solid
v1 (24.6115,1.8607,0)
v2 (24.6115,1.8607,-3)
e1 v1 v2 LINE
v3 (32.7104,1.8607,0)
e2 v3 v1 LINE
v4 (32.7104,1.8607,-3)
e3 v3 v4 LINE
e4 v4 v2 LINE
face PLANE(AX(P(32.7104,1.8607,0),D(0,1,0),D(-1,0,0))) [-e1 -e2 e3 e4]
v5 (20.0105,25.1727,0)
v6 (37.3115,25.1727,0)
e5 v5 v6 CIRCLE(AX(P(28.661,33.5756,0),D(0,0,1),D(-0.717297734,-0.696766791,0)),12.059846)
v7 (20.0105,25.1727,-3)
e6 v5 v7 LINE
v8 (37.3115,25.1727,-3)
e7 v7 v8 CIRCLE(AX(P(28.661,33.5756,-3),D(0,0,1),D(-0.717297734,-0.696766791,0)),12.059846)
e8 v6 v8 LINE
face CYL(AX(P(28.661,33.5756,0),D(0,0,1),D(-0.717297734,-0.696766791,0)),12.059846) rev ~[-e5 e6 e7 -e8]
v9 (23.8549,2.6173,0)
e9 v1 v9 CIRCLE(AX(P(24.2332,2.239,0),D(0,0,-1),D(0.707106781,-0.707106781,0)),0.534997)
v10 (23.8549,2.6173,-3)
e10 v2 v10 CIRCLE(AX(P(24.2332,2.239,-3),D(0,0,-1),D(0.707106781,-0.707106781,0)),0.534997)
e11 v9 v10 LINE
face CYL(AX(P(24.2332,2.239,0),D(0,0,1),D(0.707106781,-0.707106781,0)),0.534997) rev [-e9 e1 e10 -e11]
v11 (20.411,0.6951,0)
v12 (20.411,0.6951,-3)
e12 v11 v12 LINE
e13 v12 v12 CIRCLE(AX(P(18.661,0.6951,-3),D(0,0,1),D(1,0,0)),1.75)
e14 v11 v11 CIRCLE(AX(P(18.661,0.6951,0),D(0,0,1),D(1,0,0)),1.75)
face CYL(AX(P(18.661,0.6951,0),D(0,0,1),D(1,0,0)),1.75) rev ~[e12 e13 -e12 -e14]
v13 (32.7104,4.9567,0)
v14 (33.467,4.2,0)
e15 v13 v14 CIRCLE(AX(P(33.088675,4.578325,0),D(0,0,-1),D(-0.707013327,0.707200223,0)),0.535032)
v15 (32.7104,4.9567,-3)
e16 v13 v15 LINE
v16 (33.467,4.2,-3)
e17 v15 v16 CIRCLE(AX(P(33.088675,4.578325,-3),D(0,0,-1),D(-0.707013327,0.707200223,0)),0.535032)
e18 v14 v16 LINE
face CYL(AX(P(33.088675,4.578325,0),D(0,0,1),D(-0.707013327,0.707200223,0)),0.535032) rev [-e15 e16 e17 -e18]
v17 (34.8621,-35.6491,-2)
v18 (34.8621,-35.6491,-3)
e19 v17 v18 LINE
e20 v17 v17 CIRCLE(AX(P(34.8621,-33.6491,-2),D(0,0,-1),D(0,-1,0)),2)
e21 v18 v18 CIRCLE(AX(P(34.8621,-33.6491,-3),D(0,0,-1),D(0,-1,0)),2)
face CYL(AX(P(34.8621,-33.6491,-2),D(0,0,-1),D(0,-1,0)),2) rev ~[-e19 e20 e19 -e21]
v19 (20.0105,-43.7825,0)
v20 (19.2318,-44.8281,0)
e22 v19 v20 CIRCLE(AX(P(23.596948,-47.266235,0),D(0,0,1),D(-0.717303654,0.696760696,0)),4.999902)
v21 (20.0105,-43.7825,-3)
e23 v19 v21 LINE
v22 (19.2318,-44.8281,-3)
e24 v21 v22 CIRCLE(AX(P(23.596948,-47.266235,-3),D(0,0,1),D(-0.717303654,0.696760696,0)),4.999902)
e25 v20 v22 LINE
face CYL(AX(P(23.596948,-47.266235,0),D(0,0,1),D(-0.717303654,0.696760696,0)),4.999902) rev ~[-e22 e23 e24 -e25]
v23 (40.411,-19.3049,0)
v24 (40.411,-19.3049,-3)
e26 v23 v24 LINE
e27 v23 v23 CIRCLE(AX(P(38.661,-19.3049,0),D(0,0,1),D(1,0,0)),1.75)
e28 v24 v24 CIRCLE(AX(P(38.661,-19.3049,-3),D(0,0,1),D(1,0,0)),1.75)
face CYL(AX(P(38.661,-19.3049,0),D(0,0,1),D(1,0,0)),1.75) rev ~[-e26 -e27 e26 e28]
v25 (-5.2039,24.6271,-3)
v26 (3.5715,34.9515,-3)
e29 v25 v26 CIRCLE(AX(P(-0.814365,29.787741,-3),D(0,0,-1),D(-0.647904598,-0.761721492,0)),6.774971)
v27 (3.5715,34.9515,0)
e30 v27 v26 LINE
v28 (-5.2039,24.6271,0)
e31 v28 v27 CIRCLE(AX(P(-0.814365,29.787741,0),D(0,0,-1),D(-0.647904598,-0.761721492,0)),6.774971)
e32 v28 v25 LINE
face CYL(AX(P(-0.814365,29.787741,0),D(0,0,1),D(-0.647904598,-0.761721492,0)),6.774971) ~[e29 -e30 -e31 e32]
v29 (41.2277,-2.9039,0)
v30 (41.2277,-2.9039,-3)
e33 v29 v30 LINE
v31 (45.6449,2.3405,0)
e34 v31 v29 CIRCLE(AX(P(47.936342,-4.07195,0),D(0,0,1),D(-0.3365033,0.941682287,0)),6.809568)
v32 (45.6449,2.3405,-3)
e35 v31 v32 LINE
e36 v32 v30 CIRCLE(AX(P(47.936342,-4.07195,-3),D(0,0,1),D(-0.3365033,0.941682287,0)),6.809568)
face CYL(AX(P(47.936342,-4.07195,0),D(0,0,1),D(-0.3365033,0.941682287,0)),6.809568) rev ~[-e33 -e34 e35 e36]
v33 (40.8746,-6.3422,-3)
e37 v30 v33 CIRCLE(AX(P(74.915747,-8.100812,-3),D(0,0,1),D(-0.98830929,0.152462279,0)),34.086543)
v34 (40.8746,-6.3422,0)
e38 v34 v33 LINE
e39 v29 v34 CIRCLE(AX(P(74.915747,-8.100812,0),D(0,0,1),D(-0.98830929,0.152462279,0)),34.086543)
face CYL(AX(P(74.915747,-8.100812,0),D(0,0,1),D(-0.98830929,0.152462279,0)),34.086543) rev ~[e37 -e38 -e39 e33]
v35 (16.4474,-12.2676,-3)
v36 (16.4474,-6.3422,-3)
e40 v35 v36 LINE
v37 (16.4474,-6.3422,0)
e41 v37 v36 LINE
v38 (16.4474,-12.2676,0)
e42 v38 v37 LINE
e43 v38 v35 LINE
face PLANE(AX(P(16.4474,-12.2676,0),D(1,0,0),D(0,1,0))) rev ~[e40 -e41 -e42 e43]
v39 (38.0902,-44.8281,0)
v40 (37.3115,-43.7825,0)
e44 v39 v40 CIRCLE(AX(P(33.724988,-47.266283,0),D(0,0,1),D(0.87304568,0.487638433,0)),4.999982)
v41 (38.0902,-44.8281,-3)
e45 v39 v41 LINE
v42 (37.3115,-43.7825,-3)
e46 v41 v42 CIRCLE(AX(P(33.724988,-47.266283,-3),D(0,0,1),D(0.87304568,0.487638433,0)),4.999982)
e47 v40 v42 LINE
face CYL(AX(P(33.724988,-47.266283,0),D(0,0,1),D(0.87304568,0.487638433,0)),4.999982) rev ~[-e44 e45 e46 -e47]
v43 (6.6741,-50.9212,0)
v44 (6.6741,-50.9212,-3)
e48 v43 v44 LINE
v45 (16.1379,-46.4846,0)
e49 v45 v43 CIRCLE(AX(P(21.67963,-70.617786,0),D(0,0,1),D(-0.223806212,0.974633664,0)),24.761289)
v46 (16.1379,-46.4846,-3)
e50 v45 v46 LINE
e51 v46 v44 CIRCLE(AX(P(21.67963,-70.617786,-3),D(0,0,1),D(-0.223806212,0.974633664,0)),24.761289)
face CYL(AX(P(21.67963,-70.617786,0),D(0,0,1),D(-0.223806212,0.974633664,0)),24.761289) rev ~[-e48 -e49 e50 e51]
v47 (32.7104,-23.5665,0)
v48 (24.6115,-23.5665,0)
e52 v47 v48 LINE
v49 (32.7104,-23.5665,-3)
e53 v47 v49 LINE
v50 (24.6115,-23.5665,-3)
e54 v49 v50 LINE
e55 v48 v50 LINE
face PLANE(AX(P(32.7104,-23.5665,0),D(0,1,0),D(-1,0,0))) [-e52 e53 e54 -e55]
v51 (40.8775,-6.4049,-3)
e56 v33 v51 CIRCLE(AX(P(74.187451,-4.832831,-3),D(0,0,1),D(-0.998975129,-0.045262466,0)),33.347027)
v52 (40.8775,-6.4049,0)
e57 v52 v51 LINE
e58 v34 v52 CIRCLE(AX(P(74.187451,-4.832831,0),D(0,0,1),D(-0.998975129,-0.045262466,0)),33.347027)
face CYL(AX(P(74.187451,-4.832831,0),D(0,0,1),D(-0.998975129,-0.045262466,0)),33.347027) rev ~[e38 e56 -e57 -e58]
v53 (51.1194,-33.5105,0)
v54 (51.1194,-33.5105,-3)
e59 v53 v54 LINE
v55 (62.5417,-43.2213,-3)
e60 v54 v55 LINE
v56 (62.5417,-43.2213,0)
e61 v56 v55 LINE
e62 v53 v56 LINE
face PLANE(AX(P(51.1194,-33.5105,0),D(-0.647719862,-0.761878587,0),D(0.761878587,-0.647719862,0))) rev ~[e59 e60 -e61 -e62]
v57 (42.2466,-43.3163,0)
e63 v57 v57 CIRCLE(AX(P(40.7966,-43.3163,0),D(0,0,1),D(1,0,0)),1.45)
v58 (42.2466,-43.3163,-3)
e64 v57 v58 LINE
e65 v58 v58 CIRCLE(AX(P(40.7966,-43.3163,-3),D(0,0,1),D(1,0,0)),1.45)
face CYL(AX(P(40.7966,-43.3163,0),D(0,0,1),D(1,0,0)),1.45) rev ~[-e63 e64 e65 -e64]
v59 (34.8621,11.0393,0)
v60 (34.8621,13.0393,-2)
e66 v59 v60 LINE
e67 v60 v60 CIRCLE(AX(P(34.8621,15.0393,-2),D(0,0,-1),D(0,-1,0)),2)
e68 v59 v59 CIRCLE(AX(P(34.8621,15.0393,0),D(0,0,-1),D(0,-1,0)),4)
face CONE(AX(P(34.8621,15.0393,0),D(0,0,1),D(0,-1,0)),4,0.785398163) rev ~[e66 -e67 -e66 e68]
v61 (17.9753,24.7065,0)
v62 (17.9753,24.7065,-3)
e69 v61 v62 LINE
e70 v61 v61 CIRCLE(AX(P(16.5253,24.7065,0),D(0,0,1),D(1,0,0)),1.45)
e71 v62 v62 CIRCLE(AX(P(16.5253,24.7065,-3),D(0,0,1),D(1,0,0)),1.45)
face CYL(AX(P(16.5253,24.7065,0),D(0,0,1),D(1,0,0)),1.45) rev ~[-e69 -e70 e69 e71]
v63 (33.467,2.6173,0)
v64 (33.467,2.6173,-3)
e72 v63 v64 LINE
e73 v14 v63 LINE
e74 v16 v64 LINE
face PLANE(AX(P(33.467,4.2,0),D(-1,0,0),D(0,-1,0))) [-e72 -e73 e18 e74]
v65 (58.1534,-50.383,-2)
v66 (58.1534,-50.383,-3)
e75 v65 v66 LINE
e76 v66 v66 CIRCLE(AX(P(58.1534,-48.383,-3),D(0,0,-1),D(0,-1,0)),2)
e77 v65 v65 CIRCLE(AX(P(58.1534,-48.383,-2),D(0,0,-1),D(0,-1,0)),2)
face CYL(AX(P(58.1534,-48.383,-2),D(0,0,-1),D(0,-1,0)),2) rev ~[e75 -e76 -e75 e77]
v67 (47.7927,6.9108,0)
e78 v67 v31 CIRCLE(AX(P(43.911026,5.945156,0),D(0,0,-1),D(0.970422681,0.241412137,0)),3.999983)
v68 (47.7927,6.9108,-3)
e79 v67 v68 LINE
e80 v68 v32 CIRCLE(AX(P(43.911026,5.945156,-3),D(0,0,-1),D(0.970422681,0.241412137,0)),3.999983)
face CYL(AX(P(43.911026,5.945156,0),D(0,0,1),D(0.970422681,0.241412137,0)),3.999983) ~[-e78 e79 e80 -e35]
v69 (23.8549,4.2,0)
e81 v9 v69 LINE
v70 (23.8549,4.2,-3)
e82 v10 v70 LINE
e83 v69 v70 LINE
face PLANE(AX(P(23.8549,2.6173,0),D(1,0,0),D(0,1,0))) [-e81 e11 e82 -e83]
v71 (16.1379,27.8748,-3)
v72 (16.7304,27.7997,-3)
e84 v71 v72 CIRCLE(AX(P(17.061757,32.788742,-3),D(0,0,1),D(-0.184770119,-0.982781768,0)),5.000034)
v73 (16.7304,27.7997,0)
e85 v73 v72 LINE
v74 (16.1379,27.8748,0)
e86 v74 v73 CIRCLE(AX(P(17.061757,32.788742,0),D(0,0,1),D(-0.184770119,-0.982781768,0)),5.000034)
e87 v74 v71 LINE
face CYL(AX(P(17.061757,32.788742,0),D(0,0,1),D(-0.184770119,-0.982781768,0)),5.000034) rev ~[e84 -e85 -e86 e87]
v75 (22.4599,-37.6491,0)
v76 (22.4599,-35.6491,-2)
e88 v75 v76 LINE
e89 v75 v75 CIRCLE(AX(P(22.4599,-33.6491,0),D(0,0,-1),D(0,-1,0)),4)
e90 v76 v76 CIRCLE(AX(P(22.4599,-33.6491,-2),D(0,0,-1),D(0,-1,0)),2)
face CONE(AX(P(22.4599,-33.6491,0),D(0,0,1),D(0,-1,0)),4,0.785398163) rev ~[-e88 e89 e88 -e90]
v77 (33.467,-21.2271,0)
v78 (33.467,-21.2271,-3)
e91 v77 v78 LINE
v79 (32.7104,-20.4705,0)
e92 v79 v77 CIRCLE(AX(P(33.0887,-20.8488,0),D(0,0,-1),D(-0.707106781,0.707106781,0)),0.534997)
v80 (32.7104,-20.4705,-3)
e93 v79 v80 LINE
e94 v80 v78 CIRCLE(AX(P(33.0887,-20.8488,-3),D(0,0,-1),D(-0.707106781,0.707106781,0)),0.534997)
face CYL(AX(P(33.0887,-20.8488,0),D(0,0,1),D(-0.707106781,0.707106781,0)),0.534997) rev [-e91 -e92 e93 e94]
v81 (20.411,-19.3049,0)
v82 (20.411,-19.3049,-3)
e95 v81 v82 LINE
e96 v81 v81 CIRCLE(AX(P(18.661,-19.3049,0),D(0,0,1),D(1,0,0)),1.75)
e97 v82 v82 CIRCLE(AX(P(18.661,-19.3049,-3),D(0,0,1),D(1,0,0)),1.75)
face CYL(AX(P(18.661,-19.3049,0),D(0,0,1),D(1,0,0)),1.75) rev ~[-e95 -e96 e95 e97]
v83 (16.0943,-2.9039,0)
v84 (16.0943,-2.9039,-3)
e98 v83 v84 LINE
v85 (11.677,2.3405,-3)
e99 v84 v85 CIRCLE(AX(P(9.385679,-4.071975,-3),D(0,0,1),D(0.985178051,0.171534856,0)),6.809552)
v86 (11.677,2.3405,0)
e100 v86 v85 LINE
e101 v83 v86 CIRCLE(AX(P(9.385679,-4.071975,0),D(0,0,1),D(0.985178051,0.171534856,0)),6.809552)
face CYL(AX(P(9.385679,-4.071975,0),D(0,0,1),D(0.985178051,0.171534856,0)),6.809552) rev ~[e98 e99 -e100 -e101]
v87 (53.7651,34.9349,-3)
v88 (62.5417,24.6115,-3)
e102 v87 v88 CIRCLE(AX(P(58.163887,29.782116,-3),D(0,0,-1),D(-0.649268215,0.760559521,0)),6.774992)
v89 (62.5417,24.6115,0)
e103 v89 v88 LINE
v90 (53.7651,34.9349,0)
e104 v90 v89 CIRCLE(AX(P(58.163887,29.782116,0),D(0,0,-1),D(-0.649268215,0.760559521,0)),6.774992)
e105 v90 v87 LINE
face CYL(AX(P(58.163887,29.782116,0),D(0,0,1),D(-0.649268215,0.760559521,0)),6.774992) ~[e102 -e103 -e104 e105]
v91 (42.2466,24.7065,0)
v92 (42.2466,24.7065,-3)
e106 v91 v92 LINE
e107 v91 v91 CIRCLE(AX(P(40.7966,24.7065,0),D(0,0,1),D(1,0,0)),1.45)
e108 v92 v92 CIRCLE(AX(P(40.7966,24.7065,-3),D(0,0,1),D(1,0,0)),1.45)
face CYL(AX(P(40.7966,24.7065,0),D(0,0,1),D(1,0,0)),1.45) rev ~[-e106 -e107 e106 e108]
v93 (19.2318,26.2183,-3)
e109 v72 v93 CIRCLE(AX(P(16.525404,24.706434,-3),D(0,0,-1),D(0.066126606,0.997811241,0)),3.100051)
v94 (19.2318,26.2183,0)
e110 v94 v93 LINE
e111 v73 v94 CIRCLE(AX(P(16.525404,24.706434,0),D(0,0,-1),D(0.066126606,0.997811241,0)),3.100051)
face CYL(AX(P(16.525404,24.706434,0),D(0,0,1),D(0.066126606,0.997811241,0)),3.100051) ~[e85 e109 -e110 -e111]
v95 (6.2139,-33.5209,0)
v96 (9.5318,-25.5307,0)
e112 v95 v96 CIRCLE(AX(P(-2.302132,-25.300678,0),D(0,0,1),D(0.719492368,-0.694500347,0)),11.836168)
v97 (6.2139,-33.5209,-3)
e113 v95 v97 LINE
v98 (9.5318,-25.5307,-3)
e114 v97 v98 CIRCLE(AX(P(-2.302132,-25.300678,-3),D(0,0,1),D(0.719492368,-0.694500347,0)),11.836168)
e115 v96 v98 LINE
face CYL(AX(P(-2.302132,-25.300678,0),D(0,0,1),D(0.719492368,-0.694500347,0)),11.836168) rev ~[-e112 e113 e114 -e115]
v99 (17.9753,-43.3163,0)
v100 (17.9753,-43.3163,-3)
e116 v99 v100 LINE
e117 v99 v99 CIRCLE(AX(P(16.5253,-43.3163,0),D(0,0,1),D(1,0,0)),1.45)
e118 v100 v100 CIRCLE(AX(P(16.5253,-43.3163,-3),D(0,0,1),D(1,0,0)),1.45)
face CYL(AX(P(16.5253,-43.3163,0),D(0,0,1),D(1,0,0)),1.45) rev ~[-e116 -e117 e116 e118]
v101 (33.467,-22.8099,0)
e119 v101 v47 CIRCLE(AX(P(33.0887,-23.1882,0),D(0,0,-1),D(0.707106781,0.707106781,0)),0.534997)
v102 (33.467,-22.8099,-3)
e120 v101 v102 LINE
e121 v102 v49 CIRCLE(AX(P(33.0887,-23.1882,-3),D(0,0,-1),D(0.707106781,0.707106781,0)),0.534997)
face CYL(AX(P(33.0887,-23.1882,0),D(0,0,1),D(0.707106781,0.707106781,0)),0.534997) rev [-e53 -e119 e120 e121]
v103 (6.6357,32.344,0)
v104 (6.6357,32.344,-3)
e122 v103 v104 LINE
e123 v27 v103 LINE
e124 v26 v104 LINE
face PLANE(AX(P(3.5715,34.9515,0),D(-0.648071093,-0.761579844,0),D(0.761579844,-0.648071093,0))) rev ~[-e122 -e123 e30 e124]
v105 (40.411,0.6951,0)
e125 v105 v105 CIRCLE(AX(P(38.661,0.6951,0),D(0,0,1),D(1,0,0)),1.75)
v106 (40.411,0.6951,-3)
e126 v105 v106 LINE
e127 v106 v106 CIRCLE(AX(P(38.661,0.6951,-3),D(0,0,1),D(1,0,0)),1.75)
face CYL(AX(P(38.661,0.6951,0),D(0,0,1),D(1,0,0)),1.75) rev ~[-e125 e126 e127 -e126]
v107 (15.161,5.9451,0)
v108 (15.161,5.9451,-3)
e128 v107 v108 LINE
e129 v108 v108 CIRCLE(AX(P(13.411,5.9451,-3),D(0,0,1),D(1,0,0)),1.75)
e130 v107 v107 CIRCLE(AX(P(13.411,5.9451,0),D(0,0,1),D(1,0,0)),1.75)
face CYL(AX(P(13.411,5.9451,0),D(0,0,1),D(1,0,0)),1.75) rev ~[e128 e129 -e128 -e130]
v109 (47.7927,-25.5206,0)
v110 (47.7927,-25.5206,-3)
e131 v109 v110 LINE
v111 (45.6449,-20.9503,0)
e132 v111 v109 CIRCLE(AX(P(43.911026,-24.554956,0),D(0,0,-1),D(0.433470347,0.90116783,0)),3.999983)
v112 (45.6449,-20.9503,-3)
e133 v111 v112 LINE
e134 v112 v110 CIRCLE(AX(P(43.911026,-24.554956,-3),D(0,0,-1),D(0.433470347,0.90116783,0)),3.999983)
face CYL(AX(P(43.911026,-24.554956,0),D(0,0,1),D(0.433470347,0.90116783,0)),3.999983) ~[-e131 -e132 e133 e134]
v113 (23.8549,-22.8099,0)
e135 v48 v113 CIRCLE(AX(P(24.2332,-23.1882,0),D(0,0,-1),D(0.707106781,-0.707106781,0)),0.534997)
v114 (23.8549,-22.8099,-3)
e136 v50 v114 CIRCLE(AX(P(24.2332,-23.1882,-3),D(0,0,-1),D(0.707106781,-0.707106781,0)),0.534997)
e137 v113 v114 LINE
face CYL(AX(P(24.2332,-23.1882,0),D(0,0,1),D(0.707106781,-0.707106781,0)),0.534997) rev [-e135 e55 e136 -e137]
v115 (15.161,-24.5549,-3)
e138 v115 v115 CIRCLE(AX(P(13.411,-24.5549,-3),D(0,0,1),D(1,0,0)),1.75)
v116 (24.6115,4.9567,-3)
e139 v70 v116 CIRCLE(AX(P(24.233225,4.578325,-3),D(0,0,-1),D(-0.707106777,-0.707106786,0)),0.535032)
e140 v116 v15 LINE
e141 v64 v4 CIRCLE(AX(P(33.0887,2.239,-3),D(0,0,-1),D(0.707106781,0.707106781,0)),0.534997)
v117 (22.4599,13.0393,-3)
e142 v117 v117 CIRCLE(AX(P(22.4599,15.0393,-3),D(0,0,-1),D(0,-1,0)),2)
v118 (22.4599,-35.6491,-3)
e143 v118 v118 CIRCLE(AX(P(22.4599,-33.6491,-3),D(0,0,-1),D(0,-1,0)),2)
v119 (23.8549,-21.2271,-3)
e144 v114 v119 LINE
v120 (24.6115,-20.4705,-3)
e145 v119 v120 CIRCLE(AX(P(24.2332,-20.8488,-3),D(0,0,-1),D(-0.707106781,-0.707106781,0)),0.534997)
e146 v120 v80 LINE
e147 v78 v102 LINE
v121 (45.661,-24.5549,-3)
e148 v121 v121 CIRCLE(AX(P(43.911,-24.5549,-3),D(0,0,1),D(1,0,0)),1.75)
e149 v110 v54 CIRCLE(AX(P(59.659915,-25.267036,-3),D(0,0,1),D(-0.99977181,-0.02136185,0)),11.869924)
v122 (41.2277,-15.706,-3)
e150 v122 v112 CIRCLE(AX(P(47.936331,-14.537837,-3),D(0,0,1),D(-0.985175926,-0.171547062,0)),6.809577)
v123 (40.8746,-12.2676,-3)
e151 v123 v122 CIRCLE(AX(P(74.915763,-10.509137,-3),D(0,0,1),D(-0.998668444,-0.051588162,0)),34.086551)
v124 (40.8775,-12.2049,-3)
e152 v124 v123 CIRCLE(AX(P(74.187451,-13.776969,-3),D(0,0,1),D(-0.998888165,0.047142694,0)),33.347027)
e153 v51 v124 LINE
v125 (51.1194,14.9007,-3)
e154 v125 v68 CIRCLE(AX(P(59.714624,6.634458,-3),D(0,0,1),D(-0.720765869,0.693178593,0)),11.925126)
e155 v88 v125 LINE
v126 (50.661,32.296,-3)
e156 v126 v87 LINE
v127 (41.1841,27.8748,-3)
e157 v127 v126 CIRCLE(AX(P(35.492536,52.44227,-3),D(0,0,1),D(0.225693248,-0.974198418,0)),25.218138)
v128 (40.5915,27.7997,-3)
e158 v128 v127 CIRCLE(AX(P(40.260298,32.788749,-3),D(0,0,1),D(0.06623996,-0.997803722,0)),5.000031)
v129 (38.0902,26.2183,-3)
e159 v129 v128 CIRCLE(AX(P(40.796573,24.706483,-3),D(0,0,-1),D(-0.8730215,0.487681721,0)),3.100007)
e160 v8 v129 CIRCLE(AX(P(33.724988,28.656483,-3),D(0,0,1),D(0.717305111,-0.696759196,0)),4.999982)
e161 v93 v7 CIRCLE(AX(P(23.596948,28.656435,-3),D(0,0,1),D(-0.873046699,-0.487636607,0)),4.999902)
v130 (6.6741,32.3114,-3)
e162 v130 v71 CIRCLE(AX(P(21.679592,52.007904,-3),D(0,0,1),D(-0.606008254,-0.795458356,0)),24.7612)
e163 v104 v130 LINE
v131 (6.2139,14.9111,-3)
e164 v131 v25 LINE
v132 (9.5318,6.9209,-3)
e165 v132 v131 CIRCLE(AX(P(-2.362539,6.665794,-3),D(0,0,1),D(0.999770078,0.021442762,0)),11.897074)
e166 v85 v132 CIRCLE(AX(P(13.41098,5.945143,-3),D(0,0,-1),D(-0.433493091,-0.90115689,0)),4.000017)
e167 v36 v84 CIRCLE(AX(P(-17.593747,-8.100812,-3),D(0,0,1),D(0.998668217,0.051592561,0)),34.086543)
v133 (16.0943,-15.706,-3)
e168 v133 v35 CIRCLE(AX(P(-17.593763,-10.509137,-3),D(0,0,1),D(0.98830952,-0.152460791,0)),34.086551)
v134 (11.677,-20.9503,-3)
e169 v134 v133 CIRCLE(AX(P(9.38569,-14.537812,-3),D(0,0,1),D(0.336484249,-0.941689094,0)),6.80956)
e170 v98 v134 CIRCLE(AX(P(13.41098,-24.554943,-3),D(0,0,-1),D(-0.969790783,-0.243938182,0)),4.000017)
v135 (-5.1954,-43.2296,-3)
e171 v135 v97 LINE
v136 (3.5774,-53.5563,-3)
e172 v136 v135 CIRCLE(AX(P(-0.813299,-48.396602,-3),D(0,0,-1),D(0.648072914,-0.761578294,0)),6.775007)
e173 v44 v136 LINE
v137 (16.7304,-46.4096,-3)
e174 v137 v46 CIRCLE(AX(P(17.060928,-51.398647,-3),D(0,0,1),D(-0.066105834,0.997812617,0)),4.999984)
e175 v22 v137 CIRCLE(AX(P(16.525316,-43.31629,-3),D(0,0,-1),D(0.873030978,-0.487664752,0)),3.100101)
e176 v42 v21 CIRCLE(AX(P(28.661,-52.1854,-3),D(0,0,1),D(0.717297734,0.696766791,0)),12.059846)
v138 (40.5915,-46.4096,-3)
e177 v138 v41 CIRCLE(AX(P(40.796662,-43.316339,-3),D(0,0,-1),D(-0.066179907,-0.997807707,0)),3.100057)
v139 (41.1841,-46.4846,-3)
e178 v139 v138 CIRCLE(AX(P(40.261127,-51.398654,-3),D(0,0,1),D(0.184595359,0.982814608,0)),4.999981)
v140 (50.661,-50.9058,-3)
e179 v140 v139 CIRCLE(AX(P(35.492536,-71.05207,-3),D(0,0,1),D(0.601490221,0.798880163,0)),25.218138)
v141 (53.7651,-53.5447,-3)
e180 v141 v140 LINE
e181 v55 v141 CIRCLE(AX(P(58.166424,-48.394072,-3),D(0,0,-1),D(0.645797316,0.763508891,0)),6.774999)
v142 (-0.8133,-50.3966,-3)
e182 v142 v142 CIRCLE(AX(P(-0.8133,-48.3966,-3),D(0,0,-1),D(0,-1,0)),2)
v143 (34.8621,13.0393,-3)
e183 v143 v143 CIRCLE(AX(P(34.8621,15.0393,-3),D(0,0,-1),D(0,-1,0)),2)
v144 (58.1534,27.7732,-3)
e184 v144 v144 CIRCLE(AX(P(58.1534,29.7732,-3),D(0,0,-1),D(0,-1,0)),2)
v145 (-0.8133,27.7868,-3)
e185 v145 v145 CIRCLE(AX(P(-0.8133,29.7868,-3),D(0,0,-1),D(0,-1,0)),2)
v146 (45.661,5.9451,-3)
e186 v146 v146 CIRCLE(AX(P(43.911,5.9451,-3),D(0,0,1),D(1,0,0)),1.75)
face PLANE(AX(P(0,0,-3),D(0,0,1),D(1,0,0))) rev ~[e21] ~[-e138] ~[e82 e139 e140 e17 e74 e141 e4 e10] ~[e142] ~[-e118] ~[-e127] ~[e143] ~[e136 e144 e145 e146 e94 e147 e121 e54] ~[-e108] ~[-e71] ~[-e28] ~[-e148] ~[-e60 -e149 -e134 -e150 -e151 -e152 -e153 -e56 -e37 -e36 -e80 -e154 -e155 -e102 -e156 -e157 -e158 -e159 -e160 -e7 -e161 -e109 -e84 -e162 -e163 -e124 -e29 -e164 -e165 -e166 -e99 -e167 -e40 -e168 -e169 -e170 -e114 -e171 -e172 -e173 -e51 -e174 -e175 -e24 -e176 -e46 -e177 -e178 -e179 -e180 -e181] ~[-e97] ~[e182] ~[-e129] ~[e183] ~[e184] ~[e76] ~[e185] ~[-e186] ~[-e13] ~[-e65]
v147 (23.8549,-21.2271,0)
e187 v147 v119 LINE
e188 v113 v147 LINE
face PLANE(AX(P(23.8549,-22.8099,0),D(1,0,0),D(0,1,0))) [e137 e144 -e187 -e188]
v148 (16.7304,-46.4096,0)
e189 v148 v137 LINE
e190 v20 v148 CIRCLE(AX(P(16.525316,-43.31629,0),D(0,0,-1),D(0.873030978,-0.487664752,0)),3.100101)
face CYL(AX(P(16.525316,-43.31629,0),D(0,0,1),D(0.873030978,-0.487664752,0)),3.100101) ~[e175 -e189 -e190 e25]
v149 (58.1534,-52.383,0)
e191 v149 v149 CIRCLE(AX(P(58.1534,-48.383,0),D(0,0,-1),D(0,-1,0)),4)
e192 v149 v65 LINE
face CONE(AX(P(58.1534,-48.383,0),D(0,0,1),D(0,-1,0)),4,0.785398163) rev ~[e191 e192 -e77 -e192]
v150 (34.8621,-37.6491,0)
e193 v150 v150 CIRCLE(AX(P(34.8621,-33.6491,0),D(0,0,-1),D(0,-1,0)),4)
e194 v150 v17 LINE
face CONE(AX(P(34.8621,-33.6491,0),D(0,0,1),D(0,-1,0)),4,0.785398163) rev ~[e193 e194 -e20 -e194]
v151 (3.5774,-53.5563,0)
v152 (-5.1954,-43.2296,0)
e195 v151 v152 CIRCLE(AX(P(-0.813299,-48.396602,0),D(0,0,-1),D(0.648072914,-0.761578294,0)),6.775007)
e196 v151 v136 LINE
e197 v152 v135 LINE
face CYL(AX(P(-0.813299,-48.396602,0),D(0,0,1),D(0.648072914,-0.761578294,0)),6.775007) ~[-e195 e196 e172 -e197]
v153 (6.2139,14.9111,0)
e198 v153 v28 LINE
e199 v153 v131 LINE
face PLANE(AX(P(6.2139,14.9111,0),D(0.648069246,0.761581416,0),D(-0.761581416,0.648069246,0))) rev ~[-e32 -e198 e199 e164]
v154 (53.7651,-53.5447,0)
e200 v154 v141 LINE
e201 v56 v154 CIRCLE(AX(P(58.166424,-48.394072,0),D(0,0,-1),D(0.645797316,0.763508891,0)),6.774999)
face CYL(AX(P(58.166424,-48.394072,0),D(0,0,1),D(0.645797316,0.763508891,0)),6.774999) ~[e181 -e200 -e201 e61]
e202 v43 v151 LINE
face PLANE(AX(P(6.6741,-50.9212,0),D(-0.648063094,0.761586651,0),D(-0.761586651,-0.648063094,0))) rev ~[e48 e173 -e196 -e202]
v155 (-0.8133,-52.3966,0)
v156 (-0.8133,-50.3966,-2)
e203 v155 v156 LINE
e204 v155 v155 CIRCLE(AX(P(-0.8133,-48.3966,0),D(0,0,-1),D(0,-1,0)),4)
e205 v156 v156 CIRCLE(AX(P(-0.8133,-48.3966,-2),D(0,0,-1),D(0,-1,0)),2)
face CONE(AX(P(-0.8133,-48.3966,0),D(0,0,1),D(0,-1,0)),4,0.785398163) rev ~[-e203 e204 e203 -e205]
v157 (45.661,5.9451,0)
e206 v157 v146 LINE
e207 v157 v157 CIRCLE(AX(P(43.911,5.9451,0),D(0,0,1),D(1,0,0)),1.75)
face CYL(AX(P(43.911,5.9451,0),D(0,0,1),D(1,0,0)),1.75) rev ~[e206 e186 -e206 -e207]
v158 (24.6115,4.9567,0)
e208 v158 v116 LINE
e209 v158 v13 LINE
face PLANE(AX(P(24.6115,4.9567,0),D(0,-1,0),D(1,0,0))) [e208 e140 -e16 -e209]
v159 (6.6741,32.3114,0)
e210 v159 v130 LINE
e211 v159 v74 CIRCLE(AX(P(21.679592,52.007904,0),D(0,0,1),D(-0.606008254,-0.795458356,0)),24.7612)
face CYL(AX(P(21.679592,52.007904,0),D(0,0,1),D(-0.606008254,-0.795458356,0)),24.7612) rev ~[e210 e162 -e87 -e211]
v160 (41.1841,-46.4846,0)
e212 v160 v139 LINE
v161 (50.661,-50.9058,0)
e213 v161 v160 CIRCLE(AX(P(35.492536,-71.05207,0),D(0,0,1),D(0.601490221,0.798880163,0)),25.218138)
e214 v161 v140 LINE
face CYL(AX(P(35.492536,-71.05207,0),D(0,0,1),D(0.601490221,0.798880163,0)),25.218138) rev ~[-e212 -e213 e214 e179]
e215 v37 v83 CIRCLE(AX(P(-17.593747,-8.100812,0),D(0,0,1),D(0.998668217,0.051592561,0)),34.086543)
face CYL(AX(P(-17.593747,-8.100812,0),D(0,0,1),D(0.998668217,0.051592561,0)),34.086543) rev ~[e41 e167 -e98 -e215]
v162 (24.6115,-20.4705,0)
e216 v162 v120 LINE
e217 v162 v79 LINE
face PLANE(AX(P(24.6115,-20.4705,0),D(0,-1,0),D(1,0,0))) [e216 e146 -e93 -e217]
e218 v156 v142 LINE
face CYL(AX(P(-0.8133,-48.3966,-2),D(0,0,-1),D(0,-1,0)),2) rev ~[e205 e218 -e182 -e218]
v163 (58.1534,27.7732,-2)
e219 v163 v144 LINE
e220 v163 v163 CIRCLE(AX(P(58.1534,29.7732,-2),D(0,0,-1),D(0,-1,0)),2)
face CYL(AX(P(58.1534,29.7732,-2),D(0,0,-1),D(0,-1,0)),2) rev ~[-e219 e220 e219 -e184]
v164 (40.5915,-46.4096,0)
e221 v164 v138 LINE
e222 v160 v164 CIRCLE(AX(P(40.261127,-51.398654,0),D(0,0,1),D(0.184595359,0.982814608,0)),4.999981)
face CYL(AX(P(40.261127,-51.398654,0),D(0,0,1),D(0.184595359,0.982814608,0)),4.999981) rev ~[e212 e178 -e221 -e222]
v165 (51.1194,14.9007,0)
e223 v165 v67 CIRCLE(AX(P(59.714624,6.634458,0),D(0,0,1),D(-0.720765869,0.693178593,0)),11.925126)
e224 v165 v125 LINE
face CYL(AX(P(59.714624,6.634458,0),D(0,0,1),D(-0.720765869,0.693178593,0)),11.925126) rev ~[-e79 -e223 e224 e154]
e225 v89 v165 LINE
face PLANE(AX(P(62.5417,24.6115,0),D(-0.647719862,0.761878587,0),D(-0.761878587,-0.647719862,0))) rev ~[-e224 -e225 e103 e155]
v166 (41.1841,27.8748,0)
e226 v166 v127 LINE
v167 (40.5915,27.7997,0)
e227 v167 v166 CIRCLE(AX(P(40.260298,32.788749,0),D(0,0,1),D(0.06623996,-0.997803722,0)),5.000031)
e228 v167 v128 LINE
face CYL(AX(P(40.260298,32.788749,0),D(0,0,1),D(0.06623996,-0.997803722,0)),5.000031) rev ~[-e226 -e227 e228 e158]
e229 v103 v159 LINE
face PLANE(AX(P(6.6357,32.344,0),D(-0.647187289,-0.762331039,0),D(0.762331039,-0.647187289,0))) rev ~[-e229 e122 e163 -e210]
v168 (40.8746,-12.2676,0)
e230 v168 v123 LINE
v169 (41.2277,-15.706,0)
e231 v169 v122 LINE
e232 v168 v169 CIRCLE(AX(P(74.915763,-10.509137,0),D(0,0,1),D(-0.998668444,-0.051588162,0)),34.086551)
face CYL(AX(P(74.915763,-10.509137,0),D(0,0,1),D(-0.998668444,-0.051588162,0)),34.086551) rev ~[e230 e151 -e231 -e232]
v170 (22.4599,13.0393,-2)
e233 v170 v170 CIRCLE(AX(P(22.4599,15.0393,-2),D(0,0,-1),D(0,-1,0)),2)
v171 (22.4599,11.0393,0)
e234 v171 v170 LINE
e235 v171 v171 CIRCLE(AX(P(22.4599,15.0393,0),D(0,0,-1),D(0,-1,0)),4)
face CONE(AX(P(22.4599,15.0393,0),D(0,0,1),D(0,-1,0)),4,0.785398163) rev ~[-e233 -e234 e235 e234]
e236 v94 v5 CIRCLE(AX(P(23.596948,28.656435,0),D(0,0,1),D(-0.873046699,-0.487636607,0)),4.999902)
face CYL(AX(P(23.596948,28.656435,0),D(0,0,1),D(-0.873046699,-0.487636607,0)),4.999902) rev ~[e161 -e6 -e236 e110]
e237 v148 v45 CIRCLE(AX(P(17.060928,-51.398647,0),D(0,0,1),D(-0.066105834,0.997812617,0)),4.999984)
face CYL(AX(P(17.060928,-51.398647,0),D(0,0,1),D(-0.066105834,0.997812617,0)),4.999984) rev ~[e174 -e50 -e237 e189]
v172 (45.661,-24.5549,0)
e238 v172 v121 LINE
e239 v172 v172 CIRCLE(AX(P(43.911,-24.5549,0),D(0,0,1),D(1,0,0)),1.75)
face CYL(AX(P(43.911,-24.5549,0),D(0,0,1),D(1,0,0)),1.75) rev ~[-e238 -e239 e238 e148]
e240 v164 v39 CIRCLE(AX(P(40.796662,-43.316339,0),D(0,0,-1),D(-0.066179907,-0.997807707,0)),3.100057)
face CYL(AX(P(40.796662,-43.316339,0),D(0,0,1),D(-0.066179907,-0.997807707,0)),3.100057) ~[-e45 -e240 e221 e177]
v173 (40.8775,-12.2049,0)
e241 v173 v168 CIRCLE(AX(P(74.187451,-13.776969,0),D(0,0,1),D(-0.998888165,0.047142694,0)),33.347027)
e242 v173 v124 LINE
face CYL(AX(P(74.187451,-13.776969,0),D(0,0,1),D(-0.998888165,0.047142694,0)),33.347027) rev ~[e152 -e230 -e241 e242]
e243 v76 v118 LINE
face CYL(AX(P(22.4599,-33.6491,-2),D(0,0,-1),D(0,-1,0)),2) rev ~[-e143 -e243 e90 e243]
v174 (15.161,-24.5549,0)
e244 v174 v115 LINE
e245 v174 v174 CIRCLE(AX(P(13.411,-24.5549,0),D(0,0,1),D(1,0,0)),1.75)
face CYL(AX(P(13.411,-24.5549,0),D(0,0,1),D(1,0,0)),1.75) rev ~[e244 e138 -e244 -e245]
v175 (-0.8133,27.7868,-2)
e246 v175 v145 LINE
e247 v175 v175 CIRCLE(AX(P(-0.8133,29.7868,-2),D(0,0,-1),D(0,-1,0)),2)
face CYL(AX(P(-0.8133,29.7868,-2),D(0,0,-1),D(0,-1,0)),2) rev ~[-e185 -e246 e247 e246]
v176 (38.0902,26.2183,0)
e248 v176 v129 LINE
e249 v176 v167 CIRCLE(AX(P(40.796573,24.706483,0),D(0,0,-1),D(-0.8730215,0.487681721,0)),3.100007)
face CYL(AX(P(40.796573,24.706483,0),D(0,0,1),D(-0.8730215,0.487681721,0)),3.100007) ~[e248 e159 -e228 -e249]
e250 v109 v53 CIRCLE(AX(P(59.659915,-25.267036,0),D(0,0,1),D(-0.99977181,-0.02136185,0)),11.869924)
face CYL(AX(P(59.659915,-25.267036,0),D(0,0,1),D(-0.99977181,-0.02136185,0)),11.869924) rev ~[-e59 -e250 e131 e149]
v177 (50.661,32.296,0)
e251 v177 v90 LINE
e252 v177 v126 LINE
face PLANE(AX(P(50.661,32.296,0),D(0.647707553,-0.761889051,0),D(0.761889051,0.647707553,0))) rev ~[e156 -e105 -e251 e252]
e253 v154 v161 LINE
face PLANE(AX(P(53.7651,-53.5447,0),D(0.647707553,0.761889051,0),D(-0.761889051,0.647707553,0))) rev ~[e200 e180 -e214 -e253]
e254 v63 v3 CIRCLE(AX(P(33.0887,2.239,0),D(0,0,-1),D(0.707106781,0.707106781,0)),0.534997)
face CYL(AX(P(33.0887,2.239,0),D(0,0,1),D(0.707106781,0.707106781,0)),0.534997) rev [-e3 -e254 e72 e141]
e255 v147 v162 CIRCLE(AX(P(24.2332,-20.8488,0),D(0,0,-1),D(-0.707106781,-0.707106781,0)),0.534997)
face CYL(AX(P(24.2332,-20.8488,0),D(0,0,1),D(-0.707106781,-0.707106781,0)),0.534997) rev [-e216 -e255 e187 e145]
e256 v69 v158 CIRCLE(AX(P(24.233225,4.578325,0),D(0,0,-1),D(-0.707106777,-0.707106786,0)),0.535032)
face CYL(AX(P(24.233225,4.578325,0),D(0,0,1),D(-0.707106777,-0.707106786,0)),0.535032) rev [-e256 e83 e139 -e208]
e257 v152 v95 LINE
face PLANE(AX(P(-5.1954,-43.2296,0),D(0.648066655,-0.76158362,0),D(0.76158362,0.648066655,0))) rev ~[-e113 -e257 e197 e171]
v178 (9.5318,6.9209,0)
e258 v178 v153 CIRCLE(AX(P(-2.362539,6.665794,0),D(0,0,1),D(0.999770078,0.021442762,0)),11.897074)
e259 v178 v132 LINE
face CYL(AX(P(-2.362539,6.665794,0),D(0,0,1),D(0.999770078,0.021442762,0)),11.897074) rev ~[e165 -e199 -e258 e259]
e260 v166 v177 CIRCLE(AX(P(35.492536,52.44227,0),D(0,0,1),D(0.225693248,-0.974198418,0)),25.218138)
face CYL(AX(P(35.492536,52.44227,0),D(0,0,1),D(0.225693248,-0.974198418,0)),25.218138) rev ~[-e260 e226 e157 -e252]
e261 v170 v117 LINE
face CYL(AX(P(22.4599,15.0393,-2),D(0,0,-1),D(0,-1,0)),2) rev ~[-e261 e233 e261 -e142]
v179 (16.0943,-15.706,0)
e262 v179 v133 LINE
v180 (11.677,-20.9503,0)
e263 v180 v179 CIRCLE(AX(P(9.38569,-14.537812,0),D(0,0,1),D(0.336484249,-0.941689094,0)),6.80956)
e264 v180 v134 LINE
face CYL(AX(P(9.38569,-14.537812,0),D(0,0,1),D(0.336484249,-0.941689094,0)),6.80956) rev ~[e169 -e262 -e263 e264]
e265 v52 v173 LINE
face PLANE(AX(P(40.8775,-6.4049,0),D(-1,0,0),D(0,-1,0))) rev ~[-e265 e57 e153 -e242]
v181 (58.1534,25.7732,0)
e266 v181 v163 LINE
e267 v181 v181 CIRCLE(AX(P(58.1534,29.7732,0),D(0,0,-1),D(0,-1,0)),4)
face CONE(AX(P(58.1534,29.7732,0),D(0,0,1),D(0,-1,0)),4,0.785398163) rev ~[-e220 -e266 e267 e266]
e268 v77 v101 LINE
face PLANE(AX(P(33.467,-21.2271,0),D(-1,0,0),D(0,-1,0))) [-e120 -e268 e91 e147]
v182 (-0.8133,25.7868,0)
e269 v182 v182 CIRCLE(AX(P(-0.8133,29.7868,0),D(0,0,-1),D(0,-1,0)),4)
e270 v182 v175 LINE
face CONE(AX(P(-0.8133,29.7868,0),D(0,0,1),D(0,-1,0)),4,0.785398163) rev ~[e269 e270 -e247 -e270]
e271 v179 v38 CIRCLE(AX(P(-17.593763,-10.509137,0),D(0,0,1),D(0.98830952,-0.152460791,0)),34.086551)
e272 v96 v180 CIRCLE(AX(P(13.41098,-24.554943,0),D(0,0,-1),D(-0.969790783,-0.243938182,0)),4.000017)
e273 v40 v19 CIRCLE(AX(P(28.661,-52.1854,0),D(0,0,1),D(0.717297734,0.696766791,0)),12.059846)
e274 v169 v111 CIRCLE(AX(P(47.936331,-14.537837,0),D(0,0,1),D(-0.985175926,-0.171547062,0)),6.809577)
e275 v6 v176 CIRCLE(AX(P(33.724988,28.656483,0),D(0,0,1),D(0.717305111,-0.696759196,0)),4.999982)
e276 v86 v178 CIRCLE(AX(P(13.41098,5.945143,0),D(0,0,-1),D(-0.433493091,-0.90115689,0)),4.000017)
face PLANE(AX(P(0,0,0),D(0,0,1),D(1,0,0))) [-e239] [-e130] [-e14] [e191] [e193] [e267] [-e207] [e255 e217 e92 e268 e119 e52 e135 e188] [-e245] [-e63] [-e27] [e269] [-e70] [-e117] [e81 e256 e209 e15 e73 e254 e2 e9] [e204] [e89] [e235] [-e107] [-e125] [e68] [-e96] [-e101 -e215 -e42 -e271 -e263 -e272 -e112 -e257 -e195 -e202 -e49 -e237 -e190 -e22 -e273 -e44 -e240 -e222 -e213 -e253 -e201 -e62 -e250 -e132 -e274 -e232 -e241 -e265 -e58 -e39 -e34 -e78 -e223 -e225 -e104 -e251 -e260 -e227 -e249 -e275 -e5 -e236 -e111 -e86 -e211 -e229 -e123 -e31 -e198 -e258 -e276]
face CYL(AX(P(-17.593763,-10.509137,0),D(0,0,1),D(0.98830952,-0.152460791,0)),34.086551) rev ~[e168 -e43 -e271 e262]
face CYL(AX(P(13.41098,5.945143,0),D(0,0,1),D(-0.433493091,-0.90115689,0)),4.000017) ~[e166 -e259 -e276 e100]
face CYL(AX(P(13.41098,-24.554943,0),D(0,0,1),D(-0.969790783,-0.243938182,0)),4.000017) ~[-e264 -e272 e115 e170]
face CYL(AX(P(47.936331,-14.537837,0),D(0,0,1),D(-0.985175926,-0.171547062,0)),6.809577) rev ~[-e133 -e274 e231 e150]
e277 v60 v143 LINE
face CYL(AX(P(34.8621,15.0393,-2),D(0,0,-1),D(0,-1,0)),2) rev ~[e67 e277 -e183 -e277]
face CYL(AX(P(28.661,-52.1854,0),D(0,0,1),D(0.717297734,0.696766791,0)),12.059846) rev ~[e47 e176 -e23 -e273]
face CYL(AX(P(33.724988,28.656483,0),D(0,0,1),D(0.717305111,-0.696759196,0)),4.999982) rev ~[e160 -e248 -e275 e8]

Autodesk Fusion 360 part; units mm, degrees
sketch "Bottom Plate v2 3mm" plane through (0, 0, 0) normal (0, 0, 1) x (1, 0, 0)
  line L0 (23.8549, 2.6173) -> (23.8549, 4.2)
  arc A0 (38.0902, -44.8281) -> (37.3115, -43.7825) centre (33.725, -47.2663) ccw
  arc A1 (3.5774, -53.5563) -> (-5.1954, -43.2296) centre (-0.8133, -48.3966) cw
  arc A2 (24.6115, 1.8607) -> (23.8549, 2.6173) centre (24.2332, 2.239) cw
  line L1 (32.7104, -23.5665) -> (24.6115, -23.5665)
  arc A3 (16.0943, -15.706) -> (16.4474, -12.2676) centre (-17.5938, -10.5095) ccw
  arc A4 (40.5915, -46.4096) -> (38.0902, -44.8281) centre (40.7966, -43.3163) cw
  circle A5 centre (34.8621, 15.0393) radius 1.95
  arc A6 (23.8549, 4.2) -> (24.6115, 4.9567) centre (24.2332, 4.5783) cw
  arc A7 (41.2277, -2.9039) -> (40.8746, -6.3422) centre (74.9158, -8.1003) ccw
  line L2 (24.6115, -20.4705) -> (32.7104, -20.4705)
  arc A8 (47.7927, -25.5206) -> (51.1194, -33.5105) centre (59.6599, -25.267) ccw
  arc A9 (20.0105, 25.1727) -> (37.3115, 25.1727) centre (28.661, 33.5756) ccw
  arc A10 (24.6115, -23.5665) -> (23.8549, -22.8099) centre (24.2332, -23.1882) cw
  circle A11 centre (18.661, 0.6951) radius 1.75
  arc A12 (40.8746, -12.2676) -> (41.2277, -15.706) centre (74.9158, -10.5095) ccw
  line L3 (24.6115, 4.9567) -> (32.7104, 4.9567)
  arc A13 (33.467, 2.6173) -> (32.7104, 1.8607) centre (33.0887, 2.239) cw
  arc A14 (40.8746, -6.3422) -> (40.8775, -6.4049) centre (74.188, -4.8447) ccw
  arc A15 (23.8549, -21.2271) -> (24.6115, -20.4705) centre (24.2332, -20.8488) cw
  arc A16 (16.1379, -46.4846) -> (6.6741, -50.9212) centre (21.6796, -70.6178) ccw
  arc A17 (6.2139, -33.5209) -> (9.5318, -25.5307) centre (-2.3021, -25.3006) ccw
  circle A18 centre (38.661, 0.6951) radius 1.75
  arc A19 (-5.2039, 24.6271) -> (3.5715, 34.9515) centre (-0.8144, 29.7877) cw
  arc A20 (37.3115, -43.7825) -> (20.0105, -43.7825) centre (28.661, -52.1854) ccw
  circle A21 centre (22.4599, -33.6491) radius 1.95
  arc A22 (33.467, -22.8099) -> (32.7104, -23.5665) centre (33.0887, -23.1882) cw
  arc A23 (16.4474, -6.3422) -> (16.0943, -2.9039) centre (-17.5938, -8.1003) ccw
  line L4 (33.467, 4.2) -> (33.467, 2.6173)
  circle A24 centre (22.4599, 15.0393) radius 1.95
  line L5 (23.8549, -22.8099) -> (23.8549, -21.2271)
  circle A25 centre (38.661, -19.3049) radius 1.75
  arc A26 (40.8775, -12.2049) -> (40.8746, -12.2676) centre (74.188, -13.7651) ccw
  circle A27 centre (-0.8133, -48.3966) radius 1.95
  arc A28 (11.677, 2.3405) -> (9.5318, 6.9209) centre (13.411, 5.9451) cw
  arc A29 (53.7651, 34.9349) -> (62.5417, 24.6115) centre (58.1639, 29.7821) cw
  circle A30 centre (18.661, -19.3049) radius 1.75
  line L6 (32.7104, 1.8607) -> (24.6115, 1.8607)
  arc A31 (37.3115, 25.1727) -> (38.0902, 26.2183) centre (33.725, 28.6565) ccw
  arc A32 (19.2318, 26.2183) -> (20.0105, 25.1727) centre (23.5969, 28.6565) ccw
  arc A33 (32.7104, 4.9567) -> (33.467, 4.2) centre (33.0887, 4.5783) cw
  arc A34 (16.7304, 27.7997) -> (19.2318, 26.2183) centre (16.5253, 24.7065) cw
  arc A35 (45.6449, -20.9503) -> (47.7927, -25.5206) centre (43.911, -24.5549) cw
  arc A36 (32.7104, -20.4705) -> (33.467, -21.2271) centre (33.0887, -20.8488) cw
  circle A37 centre (43.911, -24.5549) radius 1.75
  circle A38 centre (43.911, 5.9451) radius 1.75
  line L7 (62.5417, 24.6115) -> (51.1194, 14.9007)
  line L8 (53.7651, -53.5447) -> (50.661, -50.9058)
  arc A39 (47.7927, 6.9108) -> (45.6449, 2.3405) centre (43.911, 5.9451) cw
  line L9 (33.467, -21.2271) -> (33.467, -22.8099)
  circle A40 centre (13.411, 5.9451) radius 1.75
  line L10 (-5.1954, -43.2296) -> (6.2139, -33.5209)
  line L11 (6.2139, 14.9111) -> (-5.2039, 24.6271)
  circle A41 centre (16.5253, -43.3163) radius 1.45
  arc A42 (9.5318, -25.5307) -> (11.677, -20.9503) centre (13.411, -24.5549) cw
  line L12 (6.6741, -50.9212) -> (3.5774, -53.5563)
  circle A43 centre (58.1534, 29.7732) radius 1.95
  line L13 (6.6357, 32.344) -> (6.6741, 32.3114)
  line L14 (50.661, 32.296) -> (53.7651, 34.9349)
  arc A44 (41.1841, -46.4846) -> (40.5915, -46.4096) centre (40.2607, -51.3986) ccw
  arc A45 (40.5915, 27.7997) -> (41.1841, 27.8748) centre (40.2607, 32.7888) ccw
  arc A46 (16.1379, 27.8748) -> (16.7304, 27.7997) centre (17.0613, 32.7888) ccw
  circle A47 centre (40.7966, -43.3163) radius 1.45
  arc A48 (11.677, -20.9503) -> (16.0943, -15.706) centre (9.3857, -14.5378) ccw
  arc A49 (50.661, -50.9058) -> (41.1841, -46.4846) centre (35.4926, -71.0521) ccw
  circle A50 centre (34.8621, -33.6491) radius 1.95
  circle A51 centre (58.1534, -48.383) radius 1.95
  line L15 (16.4474, -12.2676) -> (16.4474, -6.3422)
  arc A52 (16.0943, -2.9039) -> (11.677, 2.3405) centre (9.3857, -4.072) ccw
  arc A53 (51.1194, 14.9007) -> (47.7927, 6.9108) centre (59.7146, 6.6344) ccw
  arc A54 (41.1841, 27.8748) -> (50.661, 32.296) centre (35.4926, 52.4423) ccw
  circle A55 centre (-0.8133, 29.7868) radius 1.95
  arc A56 (16.7304, -46.4096) -> (16.1379, -46.4846) centre (17.0613, -51.3986) ccw
  arc A57 (38.0902, 26.2183) -> (40.5915, 27.7997) centre (40.7966, 24.7065) cw
  arc A58 (6.6741, 32.3114) -> (16.1379, 27.8748) centre (21.6796, 52.0079) ccw
  arc A59 (41.2277, -15.706) -> (45.6449, -20.9503) centre (47.9363, -14.5378) ccw
  arc A60 (45.6449, 2.3405) -> (41.2277, -2.9039) centre (47.9363, -4.072) ccw
  line L16 (51.1194, -33.5105) -> (62.5417, -43.2213)
  line L17 (3.5715, 34.9515) -> (6.6357, 32.344)
  circle A61 centre (13.411, -24.5549) radius 1.75
  arc A62 (20.0105, -43.7825) -> (19.2318, -44.8281) centre (23.5969, -47.2663) ccw
  circle A63 centre (40.7966, 24.7065) radius 1.45
  circle A64 centre (-9.1434, 59.8386) radius 1.95
  circle A65 centre (16.5253, 24.7065) radius 1.45
  arc A66 (9.5318, 6.9209) -> (6.2139, 14.9111) centre (-2.3625, 6.6657) ccw
  line L18 (40.8775, -6.4049) -> (40.8775, -12.2049)
  arc A67 (62.5417, -43.2213) -> (53.7651, -53.5447) centre (58.1664, -48.3941) cw
  arc A68 (19.2318, -44.8281) -> (16.7304, -46.4096) centre (16.5253, -43.3163) cw
extrude "Extrude1" add sketch "Bottom Plate v2 3mm" against normal blind 3 contours A0 A1 A3 A4 A7 A8 A9 A12 A14 A16 A17 A19 A20 A23 A26 A28 A29 A31 A32 A34 A35 L7 L8 A39 L10 L11 A42 L12 L13 L14 A44 A45 A46 A48 A49 L15 A52 A53 A54 A56 A57 A58 A59 A60 L16 L17 A62 A66 L18 A67 A68
hole "Hole1" at (-0.8133, 29.7868, 0) direction (0, 0, -1) diameter 4 depth 26 tip angle 118 countersink diameter 8 countersink angle 90
hole "Hole2" at (22.4599, 15.0393, 0) direction (0, 0, -1) diameter 4 depth 26 tip angle 118 countersink diameter 8 countersink angle 90
hole "Hole3" at (34.8621, 15.0393, 0) direction (0, 0, -1) diameter 4 depth 26 tip angle 118 countersink diameter 8 countersink angle 90
hole "Hole4" at (58.1534, 29.7732, 0) direction (0, 0, -1) diameter 4 depth 26 tip angle 118 countersink diameter 8 countersink angle 90
hole "Hole5" at (22.4599, -33.6491, 0) direction (0, 0, -1) diameter 4 depth 26 tip angle 118 countersink diameter 8 countersink angle 90
hole "Hole6" at (34.8621, -33.6491, 0) direction (0, 0, -1) diameter 4 depth 26 tip angle 118 countersink diameter 8 countersink angle 90
hole "Hole7" at (-0.8133, -48.3966, 0) direction (0, 0, -1) diameter 4 depth 26 tip angle 118 countersink diameter 8 countersink angle 90
hole "Hole8" at (58.1534, -48.383, 0) direction (0, 0, -1) diameter 4 depth 26 tip angle 118 countersink diameter 8 countersink angle 90
